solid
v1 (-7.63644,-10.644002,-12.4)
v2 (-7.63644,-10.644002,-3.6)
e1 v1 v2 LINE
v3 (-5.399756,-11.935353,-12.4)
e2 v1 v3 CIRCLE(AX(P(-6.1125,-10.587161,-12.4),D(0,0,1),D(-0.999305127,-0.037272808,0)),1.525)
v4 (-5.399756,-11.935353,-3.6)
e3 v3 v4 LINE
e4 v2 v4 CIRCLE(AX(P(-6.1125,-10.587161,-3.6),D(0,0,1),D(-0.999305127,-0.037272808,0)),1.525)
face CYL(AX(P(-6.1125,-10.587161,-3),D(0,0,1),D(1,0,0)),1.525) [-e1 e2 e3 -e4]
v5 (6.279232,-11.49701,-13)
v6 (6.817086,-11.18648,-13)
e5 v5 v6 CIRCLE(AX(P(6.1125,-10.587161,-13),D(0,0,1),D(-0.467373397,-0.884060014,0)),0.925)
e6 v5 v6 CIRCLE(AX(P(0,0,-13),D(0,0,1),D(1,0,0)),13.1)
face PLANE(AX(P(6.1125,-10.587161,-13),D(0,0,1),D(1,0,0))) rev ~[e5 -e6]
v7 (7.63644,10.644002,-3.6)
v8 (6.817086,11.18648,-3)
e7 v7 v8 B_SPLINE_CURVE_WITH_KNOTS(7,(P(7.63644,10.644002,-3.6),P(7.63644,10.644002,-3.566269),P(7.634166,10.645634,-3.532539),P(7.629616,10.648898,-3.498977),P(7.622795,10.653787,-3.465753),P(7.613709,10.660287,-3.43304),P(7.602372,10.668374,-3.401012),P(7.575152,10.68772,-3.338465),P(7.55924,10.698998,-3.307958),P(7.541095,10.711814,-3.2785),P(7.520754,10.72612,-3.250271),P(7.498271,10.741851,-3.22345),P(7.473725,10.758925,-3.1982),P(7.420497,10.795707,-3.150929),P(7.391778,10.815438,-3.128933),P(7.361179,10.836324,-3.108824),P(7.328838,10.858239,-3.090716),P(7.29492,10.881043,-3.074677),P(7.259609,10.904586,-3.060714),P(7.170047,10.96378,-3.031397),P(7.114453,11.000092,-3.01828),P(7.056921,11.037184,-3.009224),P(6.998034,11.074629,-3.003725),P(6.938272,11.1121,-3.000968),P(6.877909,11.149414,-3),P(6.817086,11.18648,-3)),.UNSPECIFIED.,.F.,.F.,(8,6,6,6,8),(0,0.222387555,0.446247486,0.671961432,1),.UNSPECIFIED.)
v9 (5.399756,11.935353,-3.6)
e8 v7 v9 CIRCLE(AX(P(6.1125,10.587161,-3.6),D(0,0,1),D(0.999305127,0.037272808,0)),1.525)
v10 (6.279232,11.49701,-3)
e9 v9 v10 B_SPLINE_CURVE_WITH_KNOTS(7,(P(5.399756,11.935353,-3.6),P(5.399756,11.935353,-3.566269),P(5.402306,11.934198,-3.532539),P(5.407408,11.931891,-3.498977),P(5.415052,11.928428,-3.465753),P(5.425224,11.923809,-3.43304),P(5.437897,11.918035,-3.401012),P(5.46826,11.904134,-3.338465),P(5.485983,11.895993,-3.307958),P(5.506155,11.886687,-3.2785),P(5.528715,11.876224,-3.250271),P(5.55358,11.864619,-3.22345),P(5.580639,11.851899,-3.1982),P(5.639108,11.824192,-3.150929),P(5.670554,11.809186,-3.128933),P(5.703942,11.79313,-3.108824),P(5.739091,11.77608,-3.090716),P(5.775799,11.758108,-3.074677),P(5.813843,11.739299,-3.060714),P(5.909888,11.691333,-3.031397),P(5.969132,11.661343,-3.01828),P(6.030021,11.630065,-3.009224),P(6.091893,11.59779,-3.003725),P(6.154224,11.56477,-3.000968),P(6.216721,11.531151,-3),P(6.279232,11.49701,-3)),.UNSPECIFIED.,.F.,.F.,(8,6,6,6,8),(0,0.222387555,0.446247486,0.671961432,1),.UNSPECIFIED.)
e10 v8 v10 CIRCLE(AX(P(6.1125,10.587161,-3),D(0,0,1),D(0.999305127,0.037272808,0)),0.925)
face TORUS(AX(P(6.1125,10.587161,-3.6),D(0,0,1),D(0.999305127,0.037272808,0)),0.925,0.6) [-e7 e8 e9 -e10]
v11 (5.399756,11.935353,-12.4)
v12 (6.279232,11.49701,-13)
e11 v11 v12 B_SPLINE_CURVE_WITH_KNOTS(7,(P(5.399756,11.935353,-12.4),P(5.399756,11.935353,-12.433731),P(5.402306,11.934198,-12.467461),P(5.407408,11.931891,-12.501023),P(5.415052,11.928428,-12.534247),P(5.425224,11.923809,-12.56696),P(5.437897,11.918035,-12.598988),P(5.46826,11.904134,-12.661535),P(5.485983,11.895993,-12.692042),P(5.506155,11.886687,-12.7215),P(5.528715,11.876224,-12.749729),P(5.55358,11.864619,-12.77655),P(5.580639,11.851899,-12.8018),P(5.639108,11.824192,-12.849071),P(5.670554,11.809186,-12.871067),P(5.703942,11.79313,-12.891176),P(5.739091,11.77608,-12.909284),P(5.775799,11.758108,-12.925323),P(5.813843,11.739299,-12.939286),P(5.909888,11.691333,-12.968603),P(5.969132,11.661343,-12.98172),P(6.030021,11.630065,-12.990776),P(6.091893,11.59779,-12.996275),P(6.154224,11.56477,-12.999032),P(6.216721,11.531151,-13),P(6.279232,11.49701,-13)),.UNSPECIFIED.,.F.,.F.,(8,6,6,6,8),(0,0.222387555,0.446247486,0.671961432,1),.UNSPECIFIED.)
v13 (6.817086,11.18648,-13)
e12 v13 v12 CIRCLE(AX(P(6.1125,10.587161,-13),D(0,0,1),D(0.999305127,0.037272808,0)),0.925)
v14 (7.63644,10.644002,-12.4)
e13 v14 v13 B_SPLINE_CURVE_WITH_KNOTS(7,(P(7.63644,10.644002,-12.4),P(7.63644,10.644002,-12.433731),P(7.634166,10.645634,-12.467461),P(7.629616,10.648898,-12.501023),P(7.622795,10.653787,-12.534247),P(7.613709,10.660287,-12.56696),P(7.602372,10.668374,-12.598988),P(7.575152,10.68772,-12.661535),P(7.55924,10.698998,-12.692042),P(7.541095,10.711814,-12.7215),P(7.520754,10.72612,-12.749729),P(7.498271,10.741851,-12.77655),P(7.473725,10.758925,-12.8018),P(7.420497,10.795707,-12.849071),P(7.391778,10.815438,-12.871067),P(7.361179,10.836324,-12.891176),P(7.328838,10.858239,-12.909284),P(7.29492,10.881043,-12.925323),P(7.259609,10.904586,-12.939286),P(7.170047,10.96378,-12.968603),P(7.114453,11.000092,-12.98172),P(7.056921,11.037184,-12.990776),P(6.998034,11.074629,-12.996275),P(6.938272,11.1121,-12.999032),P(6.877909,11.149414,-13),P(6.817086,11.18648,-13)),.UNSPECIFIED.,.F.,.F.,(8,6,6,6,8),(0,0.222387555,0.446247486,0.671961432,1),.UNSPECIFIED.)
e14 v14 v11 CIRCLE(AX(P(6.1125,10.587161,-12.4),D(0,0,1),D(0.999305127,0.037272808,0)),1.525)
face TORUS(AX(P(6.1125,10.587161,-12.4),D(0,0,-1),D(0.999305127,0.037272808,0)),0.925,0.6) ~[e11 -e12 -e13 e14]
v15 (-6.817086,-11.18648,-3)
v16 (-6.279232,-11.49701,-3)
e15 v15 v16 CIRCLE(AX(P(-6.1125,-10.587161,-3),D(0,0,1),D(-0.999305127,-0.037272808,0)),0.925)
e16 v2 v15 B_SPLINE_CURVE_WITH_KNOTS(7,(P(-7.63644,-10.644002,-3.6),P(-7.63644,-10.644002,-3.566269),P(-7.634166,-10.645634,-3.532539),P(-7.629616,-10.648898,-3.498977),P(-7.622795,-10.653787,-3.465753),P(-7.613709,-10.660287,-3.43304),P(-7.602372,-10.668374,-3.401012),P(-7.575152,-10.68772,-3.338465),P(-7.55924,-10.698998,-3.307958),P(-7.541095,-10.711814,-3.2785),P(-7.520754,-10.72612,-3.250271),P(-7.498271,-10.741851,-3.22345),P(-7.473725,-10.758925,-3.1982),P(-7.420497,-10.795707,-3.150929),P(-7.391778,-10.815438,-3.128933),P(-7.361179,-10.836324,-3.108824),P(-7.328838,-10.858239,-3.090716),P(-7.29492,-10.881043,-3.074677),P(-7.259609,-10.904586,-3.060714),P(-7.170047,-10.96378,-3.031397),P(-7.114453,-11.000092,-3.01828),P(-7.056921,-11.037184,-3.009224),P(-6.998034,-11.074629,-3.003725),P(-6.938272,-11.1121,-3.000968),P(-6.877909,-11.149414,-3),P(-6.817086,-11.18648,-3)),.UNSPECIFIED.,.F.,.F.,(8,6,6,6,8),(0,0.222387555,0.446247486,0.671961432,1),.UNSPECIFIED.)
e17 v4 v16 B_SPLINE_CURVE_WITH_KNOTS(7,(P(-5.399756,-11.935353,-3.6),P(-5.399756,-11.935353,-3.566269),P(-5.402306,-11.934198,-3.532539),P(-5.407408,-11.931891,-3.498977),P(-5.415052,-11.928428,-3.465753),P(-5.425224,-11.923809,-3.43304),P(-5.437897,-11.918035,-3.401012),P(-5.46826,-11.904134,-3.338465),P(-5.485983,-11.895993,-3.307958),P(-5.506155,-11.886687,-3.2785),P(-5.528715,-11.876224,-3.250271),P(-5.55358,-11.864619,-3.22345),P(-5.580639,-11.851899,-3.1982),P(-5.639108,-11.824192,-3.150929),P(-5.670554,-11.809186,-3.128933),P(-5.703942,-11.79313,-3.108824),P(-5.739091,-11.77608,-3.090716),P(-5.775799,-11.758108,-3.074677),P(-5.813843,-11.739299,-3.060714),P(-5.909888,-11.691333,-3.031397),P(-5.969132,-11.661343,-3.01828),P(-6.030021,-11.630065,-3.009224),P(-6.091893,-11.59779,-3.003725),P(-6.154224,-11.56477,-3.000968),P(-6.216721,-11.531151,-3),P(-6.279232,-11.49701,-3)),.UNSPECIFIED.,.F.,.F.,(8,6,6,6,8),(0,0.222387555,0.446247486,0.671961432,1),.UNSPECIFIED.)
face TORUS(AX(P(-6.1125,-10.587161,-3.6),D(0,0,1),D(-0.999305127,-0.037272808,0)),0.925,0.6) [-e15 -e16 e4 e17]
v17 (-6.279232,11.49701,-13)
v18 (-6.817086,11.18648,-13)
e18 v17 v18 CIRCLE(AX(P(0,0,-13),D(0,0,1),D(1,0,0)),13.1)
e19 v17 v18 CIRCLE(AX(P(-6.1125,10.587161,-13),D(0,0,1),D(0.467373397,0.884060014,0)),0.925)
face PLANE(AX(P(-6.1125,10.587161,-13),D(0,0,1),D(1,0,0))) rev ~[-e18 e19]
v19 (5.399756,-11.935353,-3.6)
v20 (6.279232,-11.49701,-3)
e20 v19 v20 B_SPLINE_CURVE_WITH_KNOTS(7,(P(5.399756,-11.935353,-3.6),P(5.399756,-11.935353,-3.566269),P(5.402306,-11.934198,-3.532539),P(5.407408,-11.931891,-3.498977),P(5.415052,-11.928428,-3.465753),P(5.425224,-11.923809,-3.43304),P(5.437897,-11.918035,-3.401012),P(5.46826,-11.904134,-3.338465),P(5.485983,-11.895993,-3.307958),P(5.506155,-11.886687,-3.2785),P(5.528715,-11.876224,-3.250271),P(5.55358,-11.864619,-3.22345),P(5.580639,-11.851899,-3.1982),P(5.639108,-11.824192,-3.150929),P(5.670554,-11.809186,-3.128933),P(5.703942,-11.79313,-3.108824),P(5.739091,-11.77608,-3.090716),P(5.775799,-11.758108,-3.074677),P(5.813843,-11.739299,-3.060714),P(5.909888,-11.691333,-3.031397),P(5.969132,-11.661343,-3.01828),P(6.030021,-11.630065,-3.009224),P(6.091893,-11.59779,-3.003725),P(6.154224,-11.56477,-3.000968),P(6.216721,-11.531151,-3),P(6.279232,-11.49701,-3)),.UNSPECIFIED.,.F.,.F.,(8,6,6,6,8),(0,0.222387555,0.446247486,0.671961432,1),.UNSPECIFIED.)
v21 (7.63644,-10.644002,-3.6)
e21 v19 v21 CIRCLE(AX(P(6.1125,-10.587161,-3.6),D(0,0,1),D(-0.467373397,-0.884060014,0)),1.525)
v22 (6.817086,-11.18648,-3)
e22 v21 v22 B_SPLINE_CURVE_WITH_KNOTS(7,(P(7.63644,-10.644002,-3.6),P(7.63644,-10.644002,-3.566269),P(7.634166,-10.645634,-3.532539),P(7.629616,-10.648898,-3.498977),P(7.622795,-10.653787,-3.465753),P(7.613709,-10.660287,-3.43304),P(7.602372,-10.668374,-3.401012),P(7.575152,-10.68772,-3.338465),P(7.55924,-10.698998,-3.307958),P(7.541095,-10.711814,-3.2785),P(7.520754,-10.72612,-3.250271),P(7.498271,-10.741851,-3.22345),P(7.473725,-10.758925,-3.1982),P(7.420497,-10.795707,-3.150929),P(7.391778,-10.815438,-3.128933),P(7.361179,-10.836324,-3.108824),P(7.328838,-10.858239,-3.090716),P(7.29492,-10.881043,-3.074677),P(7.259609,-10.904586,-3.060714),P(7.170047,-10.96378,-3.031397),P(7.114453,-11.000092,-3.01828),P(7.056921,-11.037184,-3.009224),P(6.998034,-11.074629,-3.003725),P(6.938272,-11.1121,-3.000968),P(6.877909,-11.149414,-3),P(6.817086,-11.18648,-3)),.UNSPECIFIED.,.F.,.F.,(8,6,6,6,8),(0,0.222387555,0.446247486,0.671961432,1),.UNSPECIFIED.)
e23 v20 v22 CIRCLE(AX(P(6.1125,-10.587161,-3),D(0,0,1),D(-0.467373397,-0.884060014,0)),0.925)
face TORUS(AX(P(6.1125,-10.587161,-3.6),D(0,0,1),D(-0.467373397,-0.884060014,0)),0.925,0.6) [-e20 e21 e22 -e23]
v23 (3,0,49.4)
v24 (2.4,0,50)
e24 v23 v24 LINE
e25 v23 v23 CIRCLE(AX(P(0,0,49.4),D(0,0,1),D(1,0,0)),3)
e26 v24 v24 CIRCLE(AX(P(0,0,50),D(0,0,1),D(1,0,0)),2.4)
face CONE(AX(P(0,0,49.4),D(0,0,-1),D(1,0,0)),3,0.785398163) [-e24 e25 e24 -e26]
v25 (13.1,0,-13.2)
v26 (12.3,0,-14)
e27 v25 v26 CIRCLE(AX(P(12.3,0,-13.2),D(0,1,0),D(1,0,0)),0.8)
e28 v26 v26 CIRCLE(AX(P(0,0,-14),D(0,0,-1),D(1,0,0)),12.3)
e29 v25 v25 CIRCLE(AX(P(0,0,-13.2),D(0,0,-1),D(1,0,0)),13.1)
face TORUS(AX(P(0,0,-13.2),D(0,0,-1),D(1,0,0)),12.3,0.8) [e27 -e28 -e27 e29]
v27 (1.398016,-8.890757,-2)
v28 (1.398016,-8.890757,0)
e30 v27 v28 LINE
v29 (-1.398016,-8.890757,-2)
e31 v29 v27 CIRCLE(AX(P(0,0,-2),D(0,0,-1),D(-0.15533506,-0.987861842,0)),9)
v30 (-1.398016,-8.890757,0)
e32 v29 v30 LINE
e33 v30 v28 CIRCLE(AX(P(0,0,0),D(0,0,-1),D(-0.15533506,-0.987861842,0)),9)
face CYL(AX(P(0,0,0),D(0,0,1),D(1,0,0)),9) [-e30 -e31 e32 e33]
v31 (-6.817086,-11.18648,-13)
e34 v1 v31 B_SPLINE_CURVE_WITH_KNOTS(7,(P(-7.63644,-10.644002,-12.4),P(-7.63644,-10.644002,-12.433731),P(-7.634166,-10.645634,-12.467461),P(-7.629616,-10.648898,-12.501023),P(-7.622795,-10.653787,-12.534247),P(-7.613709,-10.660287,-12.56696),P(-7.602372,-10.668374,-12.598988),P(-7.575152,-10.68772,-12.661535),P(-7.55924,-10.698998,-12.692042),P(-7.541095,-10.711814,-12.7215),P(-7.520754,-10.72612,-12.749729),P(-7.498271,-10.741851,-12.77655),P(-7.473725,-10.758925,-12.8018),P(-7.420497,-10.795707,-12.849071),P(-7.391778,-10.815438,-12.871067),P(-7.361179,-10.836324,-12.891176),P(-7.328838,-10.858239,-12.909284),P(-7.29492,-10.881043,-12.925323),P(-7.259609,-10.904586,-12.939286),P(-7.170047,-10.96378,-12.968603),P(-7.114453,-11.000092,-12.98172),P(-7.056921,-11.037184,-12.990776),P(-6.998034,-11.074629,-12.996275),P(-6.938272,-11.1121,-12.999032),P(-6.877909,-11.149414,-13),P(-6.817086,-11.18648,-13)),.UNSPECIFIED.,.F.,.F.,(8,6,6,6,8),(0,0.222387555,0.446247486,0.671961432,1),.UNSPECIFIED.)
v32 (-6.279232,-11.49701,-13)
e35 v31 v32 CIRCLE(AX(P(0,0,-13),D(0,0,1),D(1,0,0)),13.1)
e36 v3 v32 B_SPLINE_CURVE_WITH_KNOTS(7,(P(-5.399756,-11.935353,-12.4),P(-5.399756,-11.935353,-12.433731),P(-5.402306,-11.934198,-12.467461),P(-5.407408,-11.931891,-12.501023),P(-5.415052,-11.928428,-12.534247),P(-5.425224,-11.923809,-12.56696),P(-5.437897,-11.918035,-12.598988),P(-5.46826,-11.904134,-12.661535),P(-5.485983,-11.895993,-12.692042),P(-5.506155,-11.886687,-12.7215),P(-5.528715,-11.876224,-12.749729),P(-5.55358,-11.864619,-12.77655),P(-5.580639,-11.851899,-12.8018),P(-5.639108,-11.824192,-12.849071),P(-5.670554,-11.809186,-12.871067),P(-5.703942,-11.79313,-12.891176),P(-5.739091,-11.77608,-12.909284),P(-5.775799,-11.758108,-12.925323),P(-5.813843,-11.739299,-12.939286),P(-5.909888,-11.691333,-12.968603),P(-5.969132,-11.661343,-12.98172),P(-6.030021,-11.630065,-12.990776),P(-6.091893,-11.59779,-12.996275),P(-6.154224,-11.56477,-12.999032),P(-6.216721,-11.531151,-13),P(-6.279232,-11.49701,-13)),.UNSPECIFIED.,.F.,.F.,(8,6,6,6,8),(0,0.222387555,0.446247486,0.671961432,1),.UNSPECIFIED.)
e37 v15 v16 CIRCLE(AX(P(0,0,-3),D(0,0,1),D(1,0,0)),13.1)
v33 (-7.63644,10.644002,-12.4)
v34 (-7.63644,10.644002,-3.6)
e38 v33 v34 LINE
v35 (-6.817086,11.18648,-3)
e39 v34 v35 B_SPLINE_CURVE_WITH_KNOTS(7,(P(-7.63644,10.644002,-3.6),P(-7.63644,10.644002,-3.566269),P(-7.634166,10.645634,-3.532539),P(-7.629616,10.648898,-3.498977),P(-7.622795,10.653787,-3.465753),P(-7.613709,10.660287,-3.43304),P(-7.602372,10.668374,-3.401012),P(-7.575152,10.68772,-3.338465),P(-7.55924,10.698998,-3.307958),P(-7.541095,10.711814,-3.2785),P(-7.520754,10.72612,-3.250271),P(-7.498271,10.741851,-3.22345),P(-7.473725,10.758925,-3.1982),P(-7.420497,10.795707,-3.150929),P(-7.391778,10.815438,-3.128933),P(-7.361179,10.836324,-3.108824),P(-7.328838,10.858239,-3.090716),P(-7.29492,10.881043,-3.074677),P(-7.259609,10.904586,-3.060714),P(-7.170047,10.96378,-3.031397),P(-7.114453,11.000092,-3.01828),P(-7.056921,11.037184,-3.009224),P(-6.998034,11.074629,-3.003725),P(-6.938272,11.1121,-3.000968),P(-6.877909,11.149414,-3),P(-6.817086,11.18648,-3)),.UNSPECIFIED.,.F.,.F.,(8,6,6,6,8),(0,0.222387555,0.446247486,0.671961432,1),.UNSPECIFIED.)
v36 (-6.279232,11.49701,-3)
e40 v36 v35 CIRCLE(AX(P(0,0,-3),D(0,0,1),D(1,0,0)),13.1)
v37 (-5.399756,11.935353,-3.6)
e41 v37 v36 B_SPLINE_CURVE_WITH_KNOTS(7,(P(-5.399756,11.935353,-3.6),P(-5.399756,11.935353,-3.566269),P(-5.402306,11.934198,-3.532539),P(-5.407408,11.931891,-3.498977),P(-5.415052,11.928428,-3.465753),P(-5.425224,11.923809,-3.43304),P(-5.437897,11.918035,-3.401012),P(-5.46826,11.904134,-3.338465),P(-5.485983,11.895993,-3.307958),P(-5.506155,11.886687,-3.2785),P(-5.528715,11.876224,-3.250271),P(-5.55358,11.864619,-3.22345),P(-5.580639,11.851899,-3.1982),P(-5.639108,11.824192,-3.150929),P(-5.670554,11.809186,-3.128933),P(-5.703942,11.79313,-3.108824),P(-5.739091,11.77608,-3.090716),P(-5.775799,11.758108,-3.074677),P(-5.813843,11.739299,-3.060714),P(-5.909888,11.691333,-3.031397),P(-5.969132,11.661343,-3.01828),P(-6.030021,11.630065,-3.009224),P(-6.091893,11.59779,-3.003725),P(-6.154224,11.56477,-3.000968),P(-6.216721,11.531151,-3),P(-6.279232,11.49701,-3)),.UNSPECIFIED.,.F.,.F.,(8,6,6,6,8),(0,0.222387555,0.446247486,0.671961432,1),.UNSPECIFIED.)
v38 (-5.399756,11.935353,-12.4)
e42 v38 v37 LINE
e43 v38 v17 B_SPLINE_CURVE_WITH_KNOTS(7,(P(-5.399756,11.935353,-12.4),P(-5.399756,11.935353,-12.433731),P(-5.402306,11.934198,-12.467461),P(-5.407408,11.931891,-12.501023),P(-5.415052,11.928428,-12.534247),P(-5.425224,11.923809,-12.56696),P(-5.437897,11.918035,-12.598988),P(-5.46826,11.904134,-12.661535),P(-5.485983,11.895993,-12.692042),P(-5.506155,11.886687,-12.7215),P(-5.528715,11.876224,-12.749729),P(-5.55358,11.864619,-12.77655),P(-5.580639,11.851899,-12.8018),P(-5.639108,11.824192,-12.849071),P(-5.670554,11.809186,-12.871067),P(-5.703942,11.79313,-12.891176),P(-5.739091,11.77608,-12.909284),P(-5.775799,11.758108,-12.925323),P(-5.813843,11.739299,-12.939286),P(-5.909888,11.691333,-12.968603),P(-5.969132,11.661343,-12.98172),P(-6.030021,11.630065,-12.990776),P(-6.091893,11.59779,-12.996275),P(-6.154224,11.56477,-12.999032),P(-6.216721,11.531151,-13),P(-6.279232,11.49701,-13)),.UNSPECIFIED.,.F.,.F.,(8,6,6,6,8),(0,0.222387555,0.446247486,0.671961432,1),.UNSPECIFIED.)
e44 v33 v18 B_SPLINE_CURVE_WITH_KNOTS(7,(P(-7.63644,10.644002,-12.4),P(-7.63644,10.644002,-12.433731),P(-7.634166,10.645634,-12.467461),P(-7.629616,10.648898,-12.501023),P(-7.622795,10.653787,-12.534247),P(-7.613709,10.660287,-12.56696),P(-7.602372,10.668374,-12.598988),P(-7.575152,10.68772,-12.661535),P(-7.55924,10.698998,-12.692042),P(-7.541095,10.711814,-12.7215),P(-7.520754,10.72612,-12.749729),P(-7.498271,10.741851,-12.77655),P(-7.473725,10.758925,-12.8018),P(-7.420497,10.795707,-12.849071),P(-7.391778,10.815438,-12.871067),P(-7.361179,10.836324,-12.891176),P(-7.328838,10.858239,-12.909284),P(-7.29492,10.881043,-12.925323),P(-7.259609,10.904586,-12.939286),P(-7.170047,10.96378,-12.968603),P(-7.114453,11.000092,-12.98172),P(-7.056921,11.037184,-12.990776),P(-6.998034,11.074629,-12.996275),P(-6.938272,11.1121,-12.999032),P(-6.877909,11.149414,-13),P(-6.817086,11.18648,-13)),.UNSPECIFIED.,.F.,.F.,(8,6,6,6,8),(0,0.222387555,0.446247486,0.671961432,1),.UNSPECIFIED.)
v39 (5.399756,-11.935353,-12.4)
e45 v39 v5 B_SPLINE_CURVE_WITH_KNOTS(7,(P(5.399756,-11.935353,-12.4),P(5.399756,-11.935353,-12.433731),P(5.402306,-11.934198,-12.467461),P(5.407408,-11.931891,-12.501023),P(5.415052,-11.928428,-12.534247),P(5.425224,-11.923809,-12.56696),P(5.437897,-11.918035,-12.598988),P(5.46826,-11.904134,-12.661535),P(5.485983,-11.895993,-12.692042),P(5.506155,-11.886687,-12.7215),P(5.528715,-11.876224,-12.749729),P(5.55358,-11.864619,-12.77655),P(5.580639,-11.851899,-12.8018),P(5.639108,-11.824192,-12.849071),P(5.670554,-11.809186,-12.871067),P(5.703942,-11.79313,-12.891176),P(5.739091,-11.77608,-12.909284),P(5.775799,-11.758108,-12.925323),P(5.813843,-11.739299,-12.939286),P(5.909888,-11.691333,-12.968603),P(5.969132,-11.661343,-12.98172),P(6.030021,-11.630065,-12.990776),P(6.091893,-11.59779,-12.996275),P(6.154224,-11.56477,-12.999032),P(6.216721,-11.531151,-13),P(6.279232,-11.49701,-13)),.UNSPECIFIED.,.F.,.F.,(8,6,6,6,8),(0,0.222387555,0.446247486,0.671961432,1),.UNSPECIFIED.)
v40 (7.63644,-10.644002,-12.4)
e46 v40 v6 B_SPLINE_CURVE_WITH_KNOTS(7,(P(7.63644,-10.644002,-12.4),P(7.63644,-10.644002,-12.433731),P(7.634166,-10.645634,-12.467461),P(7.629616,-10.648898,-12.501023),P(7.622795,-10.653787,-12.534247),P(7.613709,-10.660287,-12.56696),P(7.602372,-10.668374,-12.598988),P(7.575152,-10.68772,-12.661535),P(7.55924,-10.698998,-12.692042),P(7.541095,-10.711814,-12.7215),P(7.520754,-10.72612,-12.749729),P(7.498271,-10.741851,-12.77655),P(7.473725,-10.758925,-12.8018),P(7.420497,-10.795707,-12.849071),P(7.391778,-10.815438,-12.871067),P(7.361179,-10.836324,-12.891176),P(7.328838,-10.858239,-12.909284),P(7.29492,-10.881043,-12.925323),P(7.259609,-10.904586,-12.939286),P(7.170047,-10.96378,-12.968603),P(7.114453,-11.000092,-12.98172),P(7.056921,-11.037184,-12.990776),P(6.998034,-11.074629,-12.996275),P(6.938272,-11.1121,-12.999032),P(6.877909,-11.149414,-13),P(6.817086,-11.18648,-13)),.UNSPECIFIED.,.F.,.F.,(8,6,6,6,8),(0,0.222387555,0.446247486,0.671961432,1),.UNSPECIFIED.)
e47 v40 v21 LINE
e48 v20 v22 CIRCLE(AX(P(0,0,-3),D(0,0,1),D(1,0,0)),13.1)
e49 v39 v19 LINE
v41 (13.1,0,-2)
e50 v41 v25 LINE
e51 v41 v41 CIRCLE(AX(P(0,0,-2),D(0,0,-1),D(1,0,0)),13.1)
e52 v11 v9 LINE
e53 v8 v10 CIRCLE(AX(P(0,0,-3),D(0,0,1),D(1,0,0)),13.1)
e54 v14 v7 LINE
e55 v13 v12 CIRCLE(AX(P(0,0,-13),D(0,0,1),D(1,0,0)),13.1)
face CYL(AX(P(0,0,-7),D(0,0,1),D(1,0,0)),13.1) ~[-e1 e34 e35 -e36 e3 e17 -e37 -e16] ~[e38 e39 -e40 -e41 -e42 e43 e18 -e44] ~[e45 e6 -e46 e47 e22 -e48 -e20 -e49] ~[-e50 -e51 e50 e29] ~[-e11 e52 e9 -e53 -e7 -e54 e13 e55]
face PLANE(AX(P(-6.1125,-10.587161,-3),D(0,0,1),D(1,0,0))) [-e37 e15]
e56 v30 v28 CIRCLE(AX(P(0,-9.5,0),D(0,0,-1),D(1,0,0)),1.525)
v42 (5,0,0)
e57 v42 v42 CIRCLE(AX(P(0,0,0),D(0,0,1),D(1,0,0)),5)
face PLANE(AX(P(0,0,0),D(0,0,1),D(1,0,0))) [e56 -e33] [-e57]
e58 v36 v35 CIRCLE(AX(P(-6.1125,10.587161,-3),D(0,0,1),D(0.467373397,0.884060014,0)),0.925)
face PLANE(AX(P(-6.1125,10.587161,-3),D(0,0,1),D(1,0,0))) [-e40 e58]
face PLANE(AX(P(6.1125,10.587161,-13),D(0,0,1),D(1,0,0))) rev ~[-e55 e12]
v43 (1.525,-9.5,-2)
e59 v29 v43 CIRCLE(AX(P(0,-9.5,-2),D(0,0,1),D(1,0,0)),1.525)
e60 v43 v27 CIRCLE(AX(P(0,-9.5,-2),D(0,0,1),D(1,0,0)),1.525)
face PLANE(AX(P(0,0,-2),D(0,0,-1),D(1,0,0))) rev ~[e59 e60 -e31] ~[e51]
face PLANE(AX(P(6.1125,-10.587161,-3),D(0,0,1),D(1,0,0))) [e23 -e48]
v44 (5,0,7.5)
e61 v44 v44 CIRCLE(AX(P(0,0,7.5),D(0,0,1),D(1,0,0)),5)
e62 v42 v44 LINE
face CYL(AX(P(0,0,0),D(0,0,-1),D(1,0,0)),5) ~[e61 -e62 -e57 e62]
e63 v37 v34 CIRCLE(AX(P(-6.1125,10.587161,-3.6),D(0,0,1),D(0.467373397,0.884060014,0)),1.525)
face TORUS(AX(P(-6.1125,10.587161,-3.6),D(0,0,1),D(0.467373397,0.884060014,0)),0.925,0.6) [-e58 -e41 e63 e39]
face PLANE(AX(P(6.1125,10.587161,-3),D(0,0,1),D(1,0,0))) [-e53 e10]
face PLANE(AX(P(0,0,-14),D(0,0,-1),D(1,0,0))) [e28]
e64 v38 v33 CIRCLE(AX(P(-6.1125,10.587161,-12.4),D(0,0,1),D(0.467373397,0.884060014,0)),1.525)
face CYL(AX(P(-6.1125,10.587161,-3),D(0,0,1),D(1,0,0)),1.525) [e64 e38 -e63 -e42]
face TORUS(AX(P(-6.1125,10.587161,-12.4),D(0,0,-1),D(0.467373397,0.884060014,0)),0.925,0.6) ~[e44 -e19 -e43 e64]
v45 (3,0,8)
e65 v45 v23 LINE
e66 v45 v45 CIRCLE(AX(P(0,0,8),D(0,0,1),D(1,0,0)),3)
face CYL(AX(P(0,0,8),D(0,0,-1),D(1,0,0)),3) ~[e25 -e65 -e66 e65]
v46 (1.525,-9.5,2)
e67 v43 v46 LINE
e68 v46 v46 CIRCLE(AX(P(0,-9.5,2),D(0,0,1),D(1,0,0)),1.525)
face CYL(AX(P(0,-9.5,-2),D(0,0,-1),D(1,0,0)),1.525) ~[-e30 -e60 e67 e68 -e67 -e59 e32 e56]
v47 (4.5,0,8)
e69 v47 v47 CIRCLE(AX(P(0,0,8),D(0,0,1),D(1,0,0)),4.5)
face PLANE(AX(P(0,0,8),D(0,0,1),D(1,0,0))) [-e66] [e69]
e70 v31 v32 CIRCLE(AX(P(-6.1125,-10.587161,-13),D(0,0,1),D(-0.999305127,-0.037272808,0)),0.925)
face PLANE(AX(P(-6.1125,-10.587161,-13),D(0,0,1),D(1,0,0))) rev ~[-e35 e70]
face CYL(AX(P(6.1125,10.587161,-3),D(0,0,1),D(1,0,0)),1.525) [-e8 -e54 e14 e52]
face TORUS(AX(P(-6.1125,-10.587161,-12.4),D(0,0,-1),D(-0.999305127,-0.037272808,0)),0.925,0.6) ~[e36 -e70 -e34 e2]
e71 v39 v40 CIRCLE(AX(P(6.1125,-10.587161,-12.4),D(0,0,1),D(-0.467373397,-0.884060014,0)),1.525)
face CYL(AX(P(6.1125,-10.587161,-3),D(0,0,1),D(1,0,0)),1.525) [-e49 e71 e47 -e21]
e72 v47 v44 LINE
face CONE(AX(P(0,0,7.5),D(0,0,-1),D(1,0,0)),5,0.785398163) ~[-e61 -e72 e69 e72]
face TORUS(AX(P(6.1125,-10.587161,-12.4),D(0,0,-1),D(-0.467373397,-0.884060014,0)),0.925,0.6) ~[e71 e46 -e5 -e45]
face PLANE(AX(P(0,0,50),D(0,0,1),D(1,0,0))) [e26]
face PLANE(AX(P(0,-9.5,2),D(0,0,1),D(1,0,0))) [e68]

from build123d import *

# Parameters (mm, degrees)
SKETCH_R        = 9
PAD_DEPTH       = 2
SKETCH001_R     = 13.1
PAD001_DEPTH    = 5
SKETCH002_R     = 13.1
PAD002_DEPTH    = 7
SKETCH003_R     = 1.525
PAD003_DEPTH    = 4
SKETCH004_R     = 5
PAD004_DEPTH    = 8
SKETCH005_R     = 3
PAD005_DEPTH    = 42
SKETCH006_R     = 1.525
PAD006_DEPTH    = 10
FILLET_R        = 0.6
FILLET001_R     = 0.8
CHAMFER_SIZE    = 0.6
CHAMFER001_SIZE = 0.5


with BuildPart() as part:
    # Sketch → Pad (new body)
    with BuildSketch(Plane.XY):
        Circle(SKETCH_R)
    extrude(amount=-PAD_DEPTH)

    # Sketch001 (on Face3 of Pad) → Pad001 (join)
    with BuildSketch(Plane(origin=(0, 0, -2), x_dir=(1, 0, 0), z_dir=(0, 0, -1))):
        Circle(SKETCH001_R)
    extrude(amount=PAD001_DEPTH)

    # Sketch002 (on Face3 of Pad001) → Pad002 (join)
    with BuildSketch(Plane(origin=(0, 0, -7), x_dir=(1, 0, 0), z_dir=(0, 0, -1))):
        Circle(SKETCH002_R)
    extrude(amount=PAD002_DEPTH)

    # Sketch003 (on Face2 of Pad002) → Pad003 (join)
    with BuildSketch(Plane.XY.offset(-2)):
        with Locations((0, -9.5)):
            Circle(SKETCH003_R)
    extrude(amount=PAD003_DEPTH)

    # Sketch004 (on Face8 of Pad003) → Pad004 (join)
    with BuildSketch(Plane.XY):
        Circle(SKETCH004_R)
    extrude(amount=PAD004_DEPTH)

    # Sketch005 (on Face11 of Pad004) → Pad005 (join)
    with BuildSketch(Plane.XY.offset(8)):
        Circle(SKETCH005_R)
    extrude(amount=PAD005_DEPTH)

    # Sketch006 (on Face2 of Pad005) → Pad006 (join)
    with BuildSketch(Plane.XY.offset(-3)):
        with Locations((-6.1125, 10.587161)):
            Circle(SKETCH006_R)
        with Locations((6.1125, -10.587161)):
            Circle(SKETCH006_R)
        with Locations((6.1125, 10.587161)):
            Circle(SKETCH006_R)
        with Locations((-6.1125, -10.587161)):
            Circle(SKETCH006_R)
    extrude(amount=-PAD006_DEPTH)

    # Fillet
    fillet_edges = [part.edges().sort_by_distance(p)[0] for p in [
        (-6.875, -11.90785, -3),
        (-6.875, -11.90785, -13),
        (6.875, -11.90785, -3),
        (6.875, -11.90785, -13),
        (6.875, 11.90785, -3),
        (-6.875, 11.90785, -3),
        (6.875, 11.90785, -13),
        (-6.875, 11.90785, -13),
    ]]
    fillet(fillet_edges, radius=FILLET_R)

    # Fillet001
    fillet001_edges = [part.edges().sort_by_distance(p)[0] for p in [
        (-13.1, 0, -14),
    ]]
    fillet(fillet001_edges, radius=FILLET001_R)

    # Chamfer
    chamfer_edges = [part.edges().sort_by_distance(p)[0] for p in [
        (-3, 0, 50),
    ]]
    chamfer(chamfer_edges, length=CHAMFER_SIZE)

    # Chamfer001
    chamfer001_edges = [part.edges().sort_by_distance(p)[0] for p in [
        (-5, 0, 8),
    ]]
    chamfer(chamfer001_edges, length=CHAMFER001_SIZE)


solid = part.part
